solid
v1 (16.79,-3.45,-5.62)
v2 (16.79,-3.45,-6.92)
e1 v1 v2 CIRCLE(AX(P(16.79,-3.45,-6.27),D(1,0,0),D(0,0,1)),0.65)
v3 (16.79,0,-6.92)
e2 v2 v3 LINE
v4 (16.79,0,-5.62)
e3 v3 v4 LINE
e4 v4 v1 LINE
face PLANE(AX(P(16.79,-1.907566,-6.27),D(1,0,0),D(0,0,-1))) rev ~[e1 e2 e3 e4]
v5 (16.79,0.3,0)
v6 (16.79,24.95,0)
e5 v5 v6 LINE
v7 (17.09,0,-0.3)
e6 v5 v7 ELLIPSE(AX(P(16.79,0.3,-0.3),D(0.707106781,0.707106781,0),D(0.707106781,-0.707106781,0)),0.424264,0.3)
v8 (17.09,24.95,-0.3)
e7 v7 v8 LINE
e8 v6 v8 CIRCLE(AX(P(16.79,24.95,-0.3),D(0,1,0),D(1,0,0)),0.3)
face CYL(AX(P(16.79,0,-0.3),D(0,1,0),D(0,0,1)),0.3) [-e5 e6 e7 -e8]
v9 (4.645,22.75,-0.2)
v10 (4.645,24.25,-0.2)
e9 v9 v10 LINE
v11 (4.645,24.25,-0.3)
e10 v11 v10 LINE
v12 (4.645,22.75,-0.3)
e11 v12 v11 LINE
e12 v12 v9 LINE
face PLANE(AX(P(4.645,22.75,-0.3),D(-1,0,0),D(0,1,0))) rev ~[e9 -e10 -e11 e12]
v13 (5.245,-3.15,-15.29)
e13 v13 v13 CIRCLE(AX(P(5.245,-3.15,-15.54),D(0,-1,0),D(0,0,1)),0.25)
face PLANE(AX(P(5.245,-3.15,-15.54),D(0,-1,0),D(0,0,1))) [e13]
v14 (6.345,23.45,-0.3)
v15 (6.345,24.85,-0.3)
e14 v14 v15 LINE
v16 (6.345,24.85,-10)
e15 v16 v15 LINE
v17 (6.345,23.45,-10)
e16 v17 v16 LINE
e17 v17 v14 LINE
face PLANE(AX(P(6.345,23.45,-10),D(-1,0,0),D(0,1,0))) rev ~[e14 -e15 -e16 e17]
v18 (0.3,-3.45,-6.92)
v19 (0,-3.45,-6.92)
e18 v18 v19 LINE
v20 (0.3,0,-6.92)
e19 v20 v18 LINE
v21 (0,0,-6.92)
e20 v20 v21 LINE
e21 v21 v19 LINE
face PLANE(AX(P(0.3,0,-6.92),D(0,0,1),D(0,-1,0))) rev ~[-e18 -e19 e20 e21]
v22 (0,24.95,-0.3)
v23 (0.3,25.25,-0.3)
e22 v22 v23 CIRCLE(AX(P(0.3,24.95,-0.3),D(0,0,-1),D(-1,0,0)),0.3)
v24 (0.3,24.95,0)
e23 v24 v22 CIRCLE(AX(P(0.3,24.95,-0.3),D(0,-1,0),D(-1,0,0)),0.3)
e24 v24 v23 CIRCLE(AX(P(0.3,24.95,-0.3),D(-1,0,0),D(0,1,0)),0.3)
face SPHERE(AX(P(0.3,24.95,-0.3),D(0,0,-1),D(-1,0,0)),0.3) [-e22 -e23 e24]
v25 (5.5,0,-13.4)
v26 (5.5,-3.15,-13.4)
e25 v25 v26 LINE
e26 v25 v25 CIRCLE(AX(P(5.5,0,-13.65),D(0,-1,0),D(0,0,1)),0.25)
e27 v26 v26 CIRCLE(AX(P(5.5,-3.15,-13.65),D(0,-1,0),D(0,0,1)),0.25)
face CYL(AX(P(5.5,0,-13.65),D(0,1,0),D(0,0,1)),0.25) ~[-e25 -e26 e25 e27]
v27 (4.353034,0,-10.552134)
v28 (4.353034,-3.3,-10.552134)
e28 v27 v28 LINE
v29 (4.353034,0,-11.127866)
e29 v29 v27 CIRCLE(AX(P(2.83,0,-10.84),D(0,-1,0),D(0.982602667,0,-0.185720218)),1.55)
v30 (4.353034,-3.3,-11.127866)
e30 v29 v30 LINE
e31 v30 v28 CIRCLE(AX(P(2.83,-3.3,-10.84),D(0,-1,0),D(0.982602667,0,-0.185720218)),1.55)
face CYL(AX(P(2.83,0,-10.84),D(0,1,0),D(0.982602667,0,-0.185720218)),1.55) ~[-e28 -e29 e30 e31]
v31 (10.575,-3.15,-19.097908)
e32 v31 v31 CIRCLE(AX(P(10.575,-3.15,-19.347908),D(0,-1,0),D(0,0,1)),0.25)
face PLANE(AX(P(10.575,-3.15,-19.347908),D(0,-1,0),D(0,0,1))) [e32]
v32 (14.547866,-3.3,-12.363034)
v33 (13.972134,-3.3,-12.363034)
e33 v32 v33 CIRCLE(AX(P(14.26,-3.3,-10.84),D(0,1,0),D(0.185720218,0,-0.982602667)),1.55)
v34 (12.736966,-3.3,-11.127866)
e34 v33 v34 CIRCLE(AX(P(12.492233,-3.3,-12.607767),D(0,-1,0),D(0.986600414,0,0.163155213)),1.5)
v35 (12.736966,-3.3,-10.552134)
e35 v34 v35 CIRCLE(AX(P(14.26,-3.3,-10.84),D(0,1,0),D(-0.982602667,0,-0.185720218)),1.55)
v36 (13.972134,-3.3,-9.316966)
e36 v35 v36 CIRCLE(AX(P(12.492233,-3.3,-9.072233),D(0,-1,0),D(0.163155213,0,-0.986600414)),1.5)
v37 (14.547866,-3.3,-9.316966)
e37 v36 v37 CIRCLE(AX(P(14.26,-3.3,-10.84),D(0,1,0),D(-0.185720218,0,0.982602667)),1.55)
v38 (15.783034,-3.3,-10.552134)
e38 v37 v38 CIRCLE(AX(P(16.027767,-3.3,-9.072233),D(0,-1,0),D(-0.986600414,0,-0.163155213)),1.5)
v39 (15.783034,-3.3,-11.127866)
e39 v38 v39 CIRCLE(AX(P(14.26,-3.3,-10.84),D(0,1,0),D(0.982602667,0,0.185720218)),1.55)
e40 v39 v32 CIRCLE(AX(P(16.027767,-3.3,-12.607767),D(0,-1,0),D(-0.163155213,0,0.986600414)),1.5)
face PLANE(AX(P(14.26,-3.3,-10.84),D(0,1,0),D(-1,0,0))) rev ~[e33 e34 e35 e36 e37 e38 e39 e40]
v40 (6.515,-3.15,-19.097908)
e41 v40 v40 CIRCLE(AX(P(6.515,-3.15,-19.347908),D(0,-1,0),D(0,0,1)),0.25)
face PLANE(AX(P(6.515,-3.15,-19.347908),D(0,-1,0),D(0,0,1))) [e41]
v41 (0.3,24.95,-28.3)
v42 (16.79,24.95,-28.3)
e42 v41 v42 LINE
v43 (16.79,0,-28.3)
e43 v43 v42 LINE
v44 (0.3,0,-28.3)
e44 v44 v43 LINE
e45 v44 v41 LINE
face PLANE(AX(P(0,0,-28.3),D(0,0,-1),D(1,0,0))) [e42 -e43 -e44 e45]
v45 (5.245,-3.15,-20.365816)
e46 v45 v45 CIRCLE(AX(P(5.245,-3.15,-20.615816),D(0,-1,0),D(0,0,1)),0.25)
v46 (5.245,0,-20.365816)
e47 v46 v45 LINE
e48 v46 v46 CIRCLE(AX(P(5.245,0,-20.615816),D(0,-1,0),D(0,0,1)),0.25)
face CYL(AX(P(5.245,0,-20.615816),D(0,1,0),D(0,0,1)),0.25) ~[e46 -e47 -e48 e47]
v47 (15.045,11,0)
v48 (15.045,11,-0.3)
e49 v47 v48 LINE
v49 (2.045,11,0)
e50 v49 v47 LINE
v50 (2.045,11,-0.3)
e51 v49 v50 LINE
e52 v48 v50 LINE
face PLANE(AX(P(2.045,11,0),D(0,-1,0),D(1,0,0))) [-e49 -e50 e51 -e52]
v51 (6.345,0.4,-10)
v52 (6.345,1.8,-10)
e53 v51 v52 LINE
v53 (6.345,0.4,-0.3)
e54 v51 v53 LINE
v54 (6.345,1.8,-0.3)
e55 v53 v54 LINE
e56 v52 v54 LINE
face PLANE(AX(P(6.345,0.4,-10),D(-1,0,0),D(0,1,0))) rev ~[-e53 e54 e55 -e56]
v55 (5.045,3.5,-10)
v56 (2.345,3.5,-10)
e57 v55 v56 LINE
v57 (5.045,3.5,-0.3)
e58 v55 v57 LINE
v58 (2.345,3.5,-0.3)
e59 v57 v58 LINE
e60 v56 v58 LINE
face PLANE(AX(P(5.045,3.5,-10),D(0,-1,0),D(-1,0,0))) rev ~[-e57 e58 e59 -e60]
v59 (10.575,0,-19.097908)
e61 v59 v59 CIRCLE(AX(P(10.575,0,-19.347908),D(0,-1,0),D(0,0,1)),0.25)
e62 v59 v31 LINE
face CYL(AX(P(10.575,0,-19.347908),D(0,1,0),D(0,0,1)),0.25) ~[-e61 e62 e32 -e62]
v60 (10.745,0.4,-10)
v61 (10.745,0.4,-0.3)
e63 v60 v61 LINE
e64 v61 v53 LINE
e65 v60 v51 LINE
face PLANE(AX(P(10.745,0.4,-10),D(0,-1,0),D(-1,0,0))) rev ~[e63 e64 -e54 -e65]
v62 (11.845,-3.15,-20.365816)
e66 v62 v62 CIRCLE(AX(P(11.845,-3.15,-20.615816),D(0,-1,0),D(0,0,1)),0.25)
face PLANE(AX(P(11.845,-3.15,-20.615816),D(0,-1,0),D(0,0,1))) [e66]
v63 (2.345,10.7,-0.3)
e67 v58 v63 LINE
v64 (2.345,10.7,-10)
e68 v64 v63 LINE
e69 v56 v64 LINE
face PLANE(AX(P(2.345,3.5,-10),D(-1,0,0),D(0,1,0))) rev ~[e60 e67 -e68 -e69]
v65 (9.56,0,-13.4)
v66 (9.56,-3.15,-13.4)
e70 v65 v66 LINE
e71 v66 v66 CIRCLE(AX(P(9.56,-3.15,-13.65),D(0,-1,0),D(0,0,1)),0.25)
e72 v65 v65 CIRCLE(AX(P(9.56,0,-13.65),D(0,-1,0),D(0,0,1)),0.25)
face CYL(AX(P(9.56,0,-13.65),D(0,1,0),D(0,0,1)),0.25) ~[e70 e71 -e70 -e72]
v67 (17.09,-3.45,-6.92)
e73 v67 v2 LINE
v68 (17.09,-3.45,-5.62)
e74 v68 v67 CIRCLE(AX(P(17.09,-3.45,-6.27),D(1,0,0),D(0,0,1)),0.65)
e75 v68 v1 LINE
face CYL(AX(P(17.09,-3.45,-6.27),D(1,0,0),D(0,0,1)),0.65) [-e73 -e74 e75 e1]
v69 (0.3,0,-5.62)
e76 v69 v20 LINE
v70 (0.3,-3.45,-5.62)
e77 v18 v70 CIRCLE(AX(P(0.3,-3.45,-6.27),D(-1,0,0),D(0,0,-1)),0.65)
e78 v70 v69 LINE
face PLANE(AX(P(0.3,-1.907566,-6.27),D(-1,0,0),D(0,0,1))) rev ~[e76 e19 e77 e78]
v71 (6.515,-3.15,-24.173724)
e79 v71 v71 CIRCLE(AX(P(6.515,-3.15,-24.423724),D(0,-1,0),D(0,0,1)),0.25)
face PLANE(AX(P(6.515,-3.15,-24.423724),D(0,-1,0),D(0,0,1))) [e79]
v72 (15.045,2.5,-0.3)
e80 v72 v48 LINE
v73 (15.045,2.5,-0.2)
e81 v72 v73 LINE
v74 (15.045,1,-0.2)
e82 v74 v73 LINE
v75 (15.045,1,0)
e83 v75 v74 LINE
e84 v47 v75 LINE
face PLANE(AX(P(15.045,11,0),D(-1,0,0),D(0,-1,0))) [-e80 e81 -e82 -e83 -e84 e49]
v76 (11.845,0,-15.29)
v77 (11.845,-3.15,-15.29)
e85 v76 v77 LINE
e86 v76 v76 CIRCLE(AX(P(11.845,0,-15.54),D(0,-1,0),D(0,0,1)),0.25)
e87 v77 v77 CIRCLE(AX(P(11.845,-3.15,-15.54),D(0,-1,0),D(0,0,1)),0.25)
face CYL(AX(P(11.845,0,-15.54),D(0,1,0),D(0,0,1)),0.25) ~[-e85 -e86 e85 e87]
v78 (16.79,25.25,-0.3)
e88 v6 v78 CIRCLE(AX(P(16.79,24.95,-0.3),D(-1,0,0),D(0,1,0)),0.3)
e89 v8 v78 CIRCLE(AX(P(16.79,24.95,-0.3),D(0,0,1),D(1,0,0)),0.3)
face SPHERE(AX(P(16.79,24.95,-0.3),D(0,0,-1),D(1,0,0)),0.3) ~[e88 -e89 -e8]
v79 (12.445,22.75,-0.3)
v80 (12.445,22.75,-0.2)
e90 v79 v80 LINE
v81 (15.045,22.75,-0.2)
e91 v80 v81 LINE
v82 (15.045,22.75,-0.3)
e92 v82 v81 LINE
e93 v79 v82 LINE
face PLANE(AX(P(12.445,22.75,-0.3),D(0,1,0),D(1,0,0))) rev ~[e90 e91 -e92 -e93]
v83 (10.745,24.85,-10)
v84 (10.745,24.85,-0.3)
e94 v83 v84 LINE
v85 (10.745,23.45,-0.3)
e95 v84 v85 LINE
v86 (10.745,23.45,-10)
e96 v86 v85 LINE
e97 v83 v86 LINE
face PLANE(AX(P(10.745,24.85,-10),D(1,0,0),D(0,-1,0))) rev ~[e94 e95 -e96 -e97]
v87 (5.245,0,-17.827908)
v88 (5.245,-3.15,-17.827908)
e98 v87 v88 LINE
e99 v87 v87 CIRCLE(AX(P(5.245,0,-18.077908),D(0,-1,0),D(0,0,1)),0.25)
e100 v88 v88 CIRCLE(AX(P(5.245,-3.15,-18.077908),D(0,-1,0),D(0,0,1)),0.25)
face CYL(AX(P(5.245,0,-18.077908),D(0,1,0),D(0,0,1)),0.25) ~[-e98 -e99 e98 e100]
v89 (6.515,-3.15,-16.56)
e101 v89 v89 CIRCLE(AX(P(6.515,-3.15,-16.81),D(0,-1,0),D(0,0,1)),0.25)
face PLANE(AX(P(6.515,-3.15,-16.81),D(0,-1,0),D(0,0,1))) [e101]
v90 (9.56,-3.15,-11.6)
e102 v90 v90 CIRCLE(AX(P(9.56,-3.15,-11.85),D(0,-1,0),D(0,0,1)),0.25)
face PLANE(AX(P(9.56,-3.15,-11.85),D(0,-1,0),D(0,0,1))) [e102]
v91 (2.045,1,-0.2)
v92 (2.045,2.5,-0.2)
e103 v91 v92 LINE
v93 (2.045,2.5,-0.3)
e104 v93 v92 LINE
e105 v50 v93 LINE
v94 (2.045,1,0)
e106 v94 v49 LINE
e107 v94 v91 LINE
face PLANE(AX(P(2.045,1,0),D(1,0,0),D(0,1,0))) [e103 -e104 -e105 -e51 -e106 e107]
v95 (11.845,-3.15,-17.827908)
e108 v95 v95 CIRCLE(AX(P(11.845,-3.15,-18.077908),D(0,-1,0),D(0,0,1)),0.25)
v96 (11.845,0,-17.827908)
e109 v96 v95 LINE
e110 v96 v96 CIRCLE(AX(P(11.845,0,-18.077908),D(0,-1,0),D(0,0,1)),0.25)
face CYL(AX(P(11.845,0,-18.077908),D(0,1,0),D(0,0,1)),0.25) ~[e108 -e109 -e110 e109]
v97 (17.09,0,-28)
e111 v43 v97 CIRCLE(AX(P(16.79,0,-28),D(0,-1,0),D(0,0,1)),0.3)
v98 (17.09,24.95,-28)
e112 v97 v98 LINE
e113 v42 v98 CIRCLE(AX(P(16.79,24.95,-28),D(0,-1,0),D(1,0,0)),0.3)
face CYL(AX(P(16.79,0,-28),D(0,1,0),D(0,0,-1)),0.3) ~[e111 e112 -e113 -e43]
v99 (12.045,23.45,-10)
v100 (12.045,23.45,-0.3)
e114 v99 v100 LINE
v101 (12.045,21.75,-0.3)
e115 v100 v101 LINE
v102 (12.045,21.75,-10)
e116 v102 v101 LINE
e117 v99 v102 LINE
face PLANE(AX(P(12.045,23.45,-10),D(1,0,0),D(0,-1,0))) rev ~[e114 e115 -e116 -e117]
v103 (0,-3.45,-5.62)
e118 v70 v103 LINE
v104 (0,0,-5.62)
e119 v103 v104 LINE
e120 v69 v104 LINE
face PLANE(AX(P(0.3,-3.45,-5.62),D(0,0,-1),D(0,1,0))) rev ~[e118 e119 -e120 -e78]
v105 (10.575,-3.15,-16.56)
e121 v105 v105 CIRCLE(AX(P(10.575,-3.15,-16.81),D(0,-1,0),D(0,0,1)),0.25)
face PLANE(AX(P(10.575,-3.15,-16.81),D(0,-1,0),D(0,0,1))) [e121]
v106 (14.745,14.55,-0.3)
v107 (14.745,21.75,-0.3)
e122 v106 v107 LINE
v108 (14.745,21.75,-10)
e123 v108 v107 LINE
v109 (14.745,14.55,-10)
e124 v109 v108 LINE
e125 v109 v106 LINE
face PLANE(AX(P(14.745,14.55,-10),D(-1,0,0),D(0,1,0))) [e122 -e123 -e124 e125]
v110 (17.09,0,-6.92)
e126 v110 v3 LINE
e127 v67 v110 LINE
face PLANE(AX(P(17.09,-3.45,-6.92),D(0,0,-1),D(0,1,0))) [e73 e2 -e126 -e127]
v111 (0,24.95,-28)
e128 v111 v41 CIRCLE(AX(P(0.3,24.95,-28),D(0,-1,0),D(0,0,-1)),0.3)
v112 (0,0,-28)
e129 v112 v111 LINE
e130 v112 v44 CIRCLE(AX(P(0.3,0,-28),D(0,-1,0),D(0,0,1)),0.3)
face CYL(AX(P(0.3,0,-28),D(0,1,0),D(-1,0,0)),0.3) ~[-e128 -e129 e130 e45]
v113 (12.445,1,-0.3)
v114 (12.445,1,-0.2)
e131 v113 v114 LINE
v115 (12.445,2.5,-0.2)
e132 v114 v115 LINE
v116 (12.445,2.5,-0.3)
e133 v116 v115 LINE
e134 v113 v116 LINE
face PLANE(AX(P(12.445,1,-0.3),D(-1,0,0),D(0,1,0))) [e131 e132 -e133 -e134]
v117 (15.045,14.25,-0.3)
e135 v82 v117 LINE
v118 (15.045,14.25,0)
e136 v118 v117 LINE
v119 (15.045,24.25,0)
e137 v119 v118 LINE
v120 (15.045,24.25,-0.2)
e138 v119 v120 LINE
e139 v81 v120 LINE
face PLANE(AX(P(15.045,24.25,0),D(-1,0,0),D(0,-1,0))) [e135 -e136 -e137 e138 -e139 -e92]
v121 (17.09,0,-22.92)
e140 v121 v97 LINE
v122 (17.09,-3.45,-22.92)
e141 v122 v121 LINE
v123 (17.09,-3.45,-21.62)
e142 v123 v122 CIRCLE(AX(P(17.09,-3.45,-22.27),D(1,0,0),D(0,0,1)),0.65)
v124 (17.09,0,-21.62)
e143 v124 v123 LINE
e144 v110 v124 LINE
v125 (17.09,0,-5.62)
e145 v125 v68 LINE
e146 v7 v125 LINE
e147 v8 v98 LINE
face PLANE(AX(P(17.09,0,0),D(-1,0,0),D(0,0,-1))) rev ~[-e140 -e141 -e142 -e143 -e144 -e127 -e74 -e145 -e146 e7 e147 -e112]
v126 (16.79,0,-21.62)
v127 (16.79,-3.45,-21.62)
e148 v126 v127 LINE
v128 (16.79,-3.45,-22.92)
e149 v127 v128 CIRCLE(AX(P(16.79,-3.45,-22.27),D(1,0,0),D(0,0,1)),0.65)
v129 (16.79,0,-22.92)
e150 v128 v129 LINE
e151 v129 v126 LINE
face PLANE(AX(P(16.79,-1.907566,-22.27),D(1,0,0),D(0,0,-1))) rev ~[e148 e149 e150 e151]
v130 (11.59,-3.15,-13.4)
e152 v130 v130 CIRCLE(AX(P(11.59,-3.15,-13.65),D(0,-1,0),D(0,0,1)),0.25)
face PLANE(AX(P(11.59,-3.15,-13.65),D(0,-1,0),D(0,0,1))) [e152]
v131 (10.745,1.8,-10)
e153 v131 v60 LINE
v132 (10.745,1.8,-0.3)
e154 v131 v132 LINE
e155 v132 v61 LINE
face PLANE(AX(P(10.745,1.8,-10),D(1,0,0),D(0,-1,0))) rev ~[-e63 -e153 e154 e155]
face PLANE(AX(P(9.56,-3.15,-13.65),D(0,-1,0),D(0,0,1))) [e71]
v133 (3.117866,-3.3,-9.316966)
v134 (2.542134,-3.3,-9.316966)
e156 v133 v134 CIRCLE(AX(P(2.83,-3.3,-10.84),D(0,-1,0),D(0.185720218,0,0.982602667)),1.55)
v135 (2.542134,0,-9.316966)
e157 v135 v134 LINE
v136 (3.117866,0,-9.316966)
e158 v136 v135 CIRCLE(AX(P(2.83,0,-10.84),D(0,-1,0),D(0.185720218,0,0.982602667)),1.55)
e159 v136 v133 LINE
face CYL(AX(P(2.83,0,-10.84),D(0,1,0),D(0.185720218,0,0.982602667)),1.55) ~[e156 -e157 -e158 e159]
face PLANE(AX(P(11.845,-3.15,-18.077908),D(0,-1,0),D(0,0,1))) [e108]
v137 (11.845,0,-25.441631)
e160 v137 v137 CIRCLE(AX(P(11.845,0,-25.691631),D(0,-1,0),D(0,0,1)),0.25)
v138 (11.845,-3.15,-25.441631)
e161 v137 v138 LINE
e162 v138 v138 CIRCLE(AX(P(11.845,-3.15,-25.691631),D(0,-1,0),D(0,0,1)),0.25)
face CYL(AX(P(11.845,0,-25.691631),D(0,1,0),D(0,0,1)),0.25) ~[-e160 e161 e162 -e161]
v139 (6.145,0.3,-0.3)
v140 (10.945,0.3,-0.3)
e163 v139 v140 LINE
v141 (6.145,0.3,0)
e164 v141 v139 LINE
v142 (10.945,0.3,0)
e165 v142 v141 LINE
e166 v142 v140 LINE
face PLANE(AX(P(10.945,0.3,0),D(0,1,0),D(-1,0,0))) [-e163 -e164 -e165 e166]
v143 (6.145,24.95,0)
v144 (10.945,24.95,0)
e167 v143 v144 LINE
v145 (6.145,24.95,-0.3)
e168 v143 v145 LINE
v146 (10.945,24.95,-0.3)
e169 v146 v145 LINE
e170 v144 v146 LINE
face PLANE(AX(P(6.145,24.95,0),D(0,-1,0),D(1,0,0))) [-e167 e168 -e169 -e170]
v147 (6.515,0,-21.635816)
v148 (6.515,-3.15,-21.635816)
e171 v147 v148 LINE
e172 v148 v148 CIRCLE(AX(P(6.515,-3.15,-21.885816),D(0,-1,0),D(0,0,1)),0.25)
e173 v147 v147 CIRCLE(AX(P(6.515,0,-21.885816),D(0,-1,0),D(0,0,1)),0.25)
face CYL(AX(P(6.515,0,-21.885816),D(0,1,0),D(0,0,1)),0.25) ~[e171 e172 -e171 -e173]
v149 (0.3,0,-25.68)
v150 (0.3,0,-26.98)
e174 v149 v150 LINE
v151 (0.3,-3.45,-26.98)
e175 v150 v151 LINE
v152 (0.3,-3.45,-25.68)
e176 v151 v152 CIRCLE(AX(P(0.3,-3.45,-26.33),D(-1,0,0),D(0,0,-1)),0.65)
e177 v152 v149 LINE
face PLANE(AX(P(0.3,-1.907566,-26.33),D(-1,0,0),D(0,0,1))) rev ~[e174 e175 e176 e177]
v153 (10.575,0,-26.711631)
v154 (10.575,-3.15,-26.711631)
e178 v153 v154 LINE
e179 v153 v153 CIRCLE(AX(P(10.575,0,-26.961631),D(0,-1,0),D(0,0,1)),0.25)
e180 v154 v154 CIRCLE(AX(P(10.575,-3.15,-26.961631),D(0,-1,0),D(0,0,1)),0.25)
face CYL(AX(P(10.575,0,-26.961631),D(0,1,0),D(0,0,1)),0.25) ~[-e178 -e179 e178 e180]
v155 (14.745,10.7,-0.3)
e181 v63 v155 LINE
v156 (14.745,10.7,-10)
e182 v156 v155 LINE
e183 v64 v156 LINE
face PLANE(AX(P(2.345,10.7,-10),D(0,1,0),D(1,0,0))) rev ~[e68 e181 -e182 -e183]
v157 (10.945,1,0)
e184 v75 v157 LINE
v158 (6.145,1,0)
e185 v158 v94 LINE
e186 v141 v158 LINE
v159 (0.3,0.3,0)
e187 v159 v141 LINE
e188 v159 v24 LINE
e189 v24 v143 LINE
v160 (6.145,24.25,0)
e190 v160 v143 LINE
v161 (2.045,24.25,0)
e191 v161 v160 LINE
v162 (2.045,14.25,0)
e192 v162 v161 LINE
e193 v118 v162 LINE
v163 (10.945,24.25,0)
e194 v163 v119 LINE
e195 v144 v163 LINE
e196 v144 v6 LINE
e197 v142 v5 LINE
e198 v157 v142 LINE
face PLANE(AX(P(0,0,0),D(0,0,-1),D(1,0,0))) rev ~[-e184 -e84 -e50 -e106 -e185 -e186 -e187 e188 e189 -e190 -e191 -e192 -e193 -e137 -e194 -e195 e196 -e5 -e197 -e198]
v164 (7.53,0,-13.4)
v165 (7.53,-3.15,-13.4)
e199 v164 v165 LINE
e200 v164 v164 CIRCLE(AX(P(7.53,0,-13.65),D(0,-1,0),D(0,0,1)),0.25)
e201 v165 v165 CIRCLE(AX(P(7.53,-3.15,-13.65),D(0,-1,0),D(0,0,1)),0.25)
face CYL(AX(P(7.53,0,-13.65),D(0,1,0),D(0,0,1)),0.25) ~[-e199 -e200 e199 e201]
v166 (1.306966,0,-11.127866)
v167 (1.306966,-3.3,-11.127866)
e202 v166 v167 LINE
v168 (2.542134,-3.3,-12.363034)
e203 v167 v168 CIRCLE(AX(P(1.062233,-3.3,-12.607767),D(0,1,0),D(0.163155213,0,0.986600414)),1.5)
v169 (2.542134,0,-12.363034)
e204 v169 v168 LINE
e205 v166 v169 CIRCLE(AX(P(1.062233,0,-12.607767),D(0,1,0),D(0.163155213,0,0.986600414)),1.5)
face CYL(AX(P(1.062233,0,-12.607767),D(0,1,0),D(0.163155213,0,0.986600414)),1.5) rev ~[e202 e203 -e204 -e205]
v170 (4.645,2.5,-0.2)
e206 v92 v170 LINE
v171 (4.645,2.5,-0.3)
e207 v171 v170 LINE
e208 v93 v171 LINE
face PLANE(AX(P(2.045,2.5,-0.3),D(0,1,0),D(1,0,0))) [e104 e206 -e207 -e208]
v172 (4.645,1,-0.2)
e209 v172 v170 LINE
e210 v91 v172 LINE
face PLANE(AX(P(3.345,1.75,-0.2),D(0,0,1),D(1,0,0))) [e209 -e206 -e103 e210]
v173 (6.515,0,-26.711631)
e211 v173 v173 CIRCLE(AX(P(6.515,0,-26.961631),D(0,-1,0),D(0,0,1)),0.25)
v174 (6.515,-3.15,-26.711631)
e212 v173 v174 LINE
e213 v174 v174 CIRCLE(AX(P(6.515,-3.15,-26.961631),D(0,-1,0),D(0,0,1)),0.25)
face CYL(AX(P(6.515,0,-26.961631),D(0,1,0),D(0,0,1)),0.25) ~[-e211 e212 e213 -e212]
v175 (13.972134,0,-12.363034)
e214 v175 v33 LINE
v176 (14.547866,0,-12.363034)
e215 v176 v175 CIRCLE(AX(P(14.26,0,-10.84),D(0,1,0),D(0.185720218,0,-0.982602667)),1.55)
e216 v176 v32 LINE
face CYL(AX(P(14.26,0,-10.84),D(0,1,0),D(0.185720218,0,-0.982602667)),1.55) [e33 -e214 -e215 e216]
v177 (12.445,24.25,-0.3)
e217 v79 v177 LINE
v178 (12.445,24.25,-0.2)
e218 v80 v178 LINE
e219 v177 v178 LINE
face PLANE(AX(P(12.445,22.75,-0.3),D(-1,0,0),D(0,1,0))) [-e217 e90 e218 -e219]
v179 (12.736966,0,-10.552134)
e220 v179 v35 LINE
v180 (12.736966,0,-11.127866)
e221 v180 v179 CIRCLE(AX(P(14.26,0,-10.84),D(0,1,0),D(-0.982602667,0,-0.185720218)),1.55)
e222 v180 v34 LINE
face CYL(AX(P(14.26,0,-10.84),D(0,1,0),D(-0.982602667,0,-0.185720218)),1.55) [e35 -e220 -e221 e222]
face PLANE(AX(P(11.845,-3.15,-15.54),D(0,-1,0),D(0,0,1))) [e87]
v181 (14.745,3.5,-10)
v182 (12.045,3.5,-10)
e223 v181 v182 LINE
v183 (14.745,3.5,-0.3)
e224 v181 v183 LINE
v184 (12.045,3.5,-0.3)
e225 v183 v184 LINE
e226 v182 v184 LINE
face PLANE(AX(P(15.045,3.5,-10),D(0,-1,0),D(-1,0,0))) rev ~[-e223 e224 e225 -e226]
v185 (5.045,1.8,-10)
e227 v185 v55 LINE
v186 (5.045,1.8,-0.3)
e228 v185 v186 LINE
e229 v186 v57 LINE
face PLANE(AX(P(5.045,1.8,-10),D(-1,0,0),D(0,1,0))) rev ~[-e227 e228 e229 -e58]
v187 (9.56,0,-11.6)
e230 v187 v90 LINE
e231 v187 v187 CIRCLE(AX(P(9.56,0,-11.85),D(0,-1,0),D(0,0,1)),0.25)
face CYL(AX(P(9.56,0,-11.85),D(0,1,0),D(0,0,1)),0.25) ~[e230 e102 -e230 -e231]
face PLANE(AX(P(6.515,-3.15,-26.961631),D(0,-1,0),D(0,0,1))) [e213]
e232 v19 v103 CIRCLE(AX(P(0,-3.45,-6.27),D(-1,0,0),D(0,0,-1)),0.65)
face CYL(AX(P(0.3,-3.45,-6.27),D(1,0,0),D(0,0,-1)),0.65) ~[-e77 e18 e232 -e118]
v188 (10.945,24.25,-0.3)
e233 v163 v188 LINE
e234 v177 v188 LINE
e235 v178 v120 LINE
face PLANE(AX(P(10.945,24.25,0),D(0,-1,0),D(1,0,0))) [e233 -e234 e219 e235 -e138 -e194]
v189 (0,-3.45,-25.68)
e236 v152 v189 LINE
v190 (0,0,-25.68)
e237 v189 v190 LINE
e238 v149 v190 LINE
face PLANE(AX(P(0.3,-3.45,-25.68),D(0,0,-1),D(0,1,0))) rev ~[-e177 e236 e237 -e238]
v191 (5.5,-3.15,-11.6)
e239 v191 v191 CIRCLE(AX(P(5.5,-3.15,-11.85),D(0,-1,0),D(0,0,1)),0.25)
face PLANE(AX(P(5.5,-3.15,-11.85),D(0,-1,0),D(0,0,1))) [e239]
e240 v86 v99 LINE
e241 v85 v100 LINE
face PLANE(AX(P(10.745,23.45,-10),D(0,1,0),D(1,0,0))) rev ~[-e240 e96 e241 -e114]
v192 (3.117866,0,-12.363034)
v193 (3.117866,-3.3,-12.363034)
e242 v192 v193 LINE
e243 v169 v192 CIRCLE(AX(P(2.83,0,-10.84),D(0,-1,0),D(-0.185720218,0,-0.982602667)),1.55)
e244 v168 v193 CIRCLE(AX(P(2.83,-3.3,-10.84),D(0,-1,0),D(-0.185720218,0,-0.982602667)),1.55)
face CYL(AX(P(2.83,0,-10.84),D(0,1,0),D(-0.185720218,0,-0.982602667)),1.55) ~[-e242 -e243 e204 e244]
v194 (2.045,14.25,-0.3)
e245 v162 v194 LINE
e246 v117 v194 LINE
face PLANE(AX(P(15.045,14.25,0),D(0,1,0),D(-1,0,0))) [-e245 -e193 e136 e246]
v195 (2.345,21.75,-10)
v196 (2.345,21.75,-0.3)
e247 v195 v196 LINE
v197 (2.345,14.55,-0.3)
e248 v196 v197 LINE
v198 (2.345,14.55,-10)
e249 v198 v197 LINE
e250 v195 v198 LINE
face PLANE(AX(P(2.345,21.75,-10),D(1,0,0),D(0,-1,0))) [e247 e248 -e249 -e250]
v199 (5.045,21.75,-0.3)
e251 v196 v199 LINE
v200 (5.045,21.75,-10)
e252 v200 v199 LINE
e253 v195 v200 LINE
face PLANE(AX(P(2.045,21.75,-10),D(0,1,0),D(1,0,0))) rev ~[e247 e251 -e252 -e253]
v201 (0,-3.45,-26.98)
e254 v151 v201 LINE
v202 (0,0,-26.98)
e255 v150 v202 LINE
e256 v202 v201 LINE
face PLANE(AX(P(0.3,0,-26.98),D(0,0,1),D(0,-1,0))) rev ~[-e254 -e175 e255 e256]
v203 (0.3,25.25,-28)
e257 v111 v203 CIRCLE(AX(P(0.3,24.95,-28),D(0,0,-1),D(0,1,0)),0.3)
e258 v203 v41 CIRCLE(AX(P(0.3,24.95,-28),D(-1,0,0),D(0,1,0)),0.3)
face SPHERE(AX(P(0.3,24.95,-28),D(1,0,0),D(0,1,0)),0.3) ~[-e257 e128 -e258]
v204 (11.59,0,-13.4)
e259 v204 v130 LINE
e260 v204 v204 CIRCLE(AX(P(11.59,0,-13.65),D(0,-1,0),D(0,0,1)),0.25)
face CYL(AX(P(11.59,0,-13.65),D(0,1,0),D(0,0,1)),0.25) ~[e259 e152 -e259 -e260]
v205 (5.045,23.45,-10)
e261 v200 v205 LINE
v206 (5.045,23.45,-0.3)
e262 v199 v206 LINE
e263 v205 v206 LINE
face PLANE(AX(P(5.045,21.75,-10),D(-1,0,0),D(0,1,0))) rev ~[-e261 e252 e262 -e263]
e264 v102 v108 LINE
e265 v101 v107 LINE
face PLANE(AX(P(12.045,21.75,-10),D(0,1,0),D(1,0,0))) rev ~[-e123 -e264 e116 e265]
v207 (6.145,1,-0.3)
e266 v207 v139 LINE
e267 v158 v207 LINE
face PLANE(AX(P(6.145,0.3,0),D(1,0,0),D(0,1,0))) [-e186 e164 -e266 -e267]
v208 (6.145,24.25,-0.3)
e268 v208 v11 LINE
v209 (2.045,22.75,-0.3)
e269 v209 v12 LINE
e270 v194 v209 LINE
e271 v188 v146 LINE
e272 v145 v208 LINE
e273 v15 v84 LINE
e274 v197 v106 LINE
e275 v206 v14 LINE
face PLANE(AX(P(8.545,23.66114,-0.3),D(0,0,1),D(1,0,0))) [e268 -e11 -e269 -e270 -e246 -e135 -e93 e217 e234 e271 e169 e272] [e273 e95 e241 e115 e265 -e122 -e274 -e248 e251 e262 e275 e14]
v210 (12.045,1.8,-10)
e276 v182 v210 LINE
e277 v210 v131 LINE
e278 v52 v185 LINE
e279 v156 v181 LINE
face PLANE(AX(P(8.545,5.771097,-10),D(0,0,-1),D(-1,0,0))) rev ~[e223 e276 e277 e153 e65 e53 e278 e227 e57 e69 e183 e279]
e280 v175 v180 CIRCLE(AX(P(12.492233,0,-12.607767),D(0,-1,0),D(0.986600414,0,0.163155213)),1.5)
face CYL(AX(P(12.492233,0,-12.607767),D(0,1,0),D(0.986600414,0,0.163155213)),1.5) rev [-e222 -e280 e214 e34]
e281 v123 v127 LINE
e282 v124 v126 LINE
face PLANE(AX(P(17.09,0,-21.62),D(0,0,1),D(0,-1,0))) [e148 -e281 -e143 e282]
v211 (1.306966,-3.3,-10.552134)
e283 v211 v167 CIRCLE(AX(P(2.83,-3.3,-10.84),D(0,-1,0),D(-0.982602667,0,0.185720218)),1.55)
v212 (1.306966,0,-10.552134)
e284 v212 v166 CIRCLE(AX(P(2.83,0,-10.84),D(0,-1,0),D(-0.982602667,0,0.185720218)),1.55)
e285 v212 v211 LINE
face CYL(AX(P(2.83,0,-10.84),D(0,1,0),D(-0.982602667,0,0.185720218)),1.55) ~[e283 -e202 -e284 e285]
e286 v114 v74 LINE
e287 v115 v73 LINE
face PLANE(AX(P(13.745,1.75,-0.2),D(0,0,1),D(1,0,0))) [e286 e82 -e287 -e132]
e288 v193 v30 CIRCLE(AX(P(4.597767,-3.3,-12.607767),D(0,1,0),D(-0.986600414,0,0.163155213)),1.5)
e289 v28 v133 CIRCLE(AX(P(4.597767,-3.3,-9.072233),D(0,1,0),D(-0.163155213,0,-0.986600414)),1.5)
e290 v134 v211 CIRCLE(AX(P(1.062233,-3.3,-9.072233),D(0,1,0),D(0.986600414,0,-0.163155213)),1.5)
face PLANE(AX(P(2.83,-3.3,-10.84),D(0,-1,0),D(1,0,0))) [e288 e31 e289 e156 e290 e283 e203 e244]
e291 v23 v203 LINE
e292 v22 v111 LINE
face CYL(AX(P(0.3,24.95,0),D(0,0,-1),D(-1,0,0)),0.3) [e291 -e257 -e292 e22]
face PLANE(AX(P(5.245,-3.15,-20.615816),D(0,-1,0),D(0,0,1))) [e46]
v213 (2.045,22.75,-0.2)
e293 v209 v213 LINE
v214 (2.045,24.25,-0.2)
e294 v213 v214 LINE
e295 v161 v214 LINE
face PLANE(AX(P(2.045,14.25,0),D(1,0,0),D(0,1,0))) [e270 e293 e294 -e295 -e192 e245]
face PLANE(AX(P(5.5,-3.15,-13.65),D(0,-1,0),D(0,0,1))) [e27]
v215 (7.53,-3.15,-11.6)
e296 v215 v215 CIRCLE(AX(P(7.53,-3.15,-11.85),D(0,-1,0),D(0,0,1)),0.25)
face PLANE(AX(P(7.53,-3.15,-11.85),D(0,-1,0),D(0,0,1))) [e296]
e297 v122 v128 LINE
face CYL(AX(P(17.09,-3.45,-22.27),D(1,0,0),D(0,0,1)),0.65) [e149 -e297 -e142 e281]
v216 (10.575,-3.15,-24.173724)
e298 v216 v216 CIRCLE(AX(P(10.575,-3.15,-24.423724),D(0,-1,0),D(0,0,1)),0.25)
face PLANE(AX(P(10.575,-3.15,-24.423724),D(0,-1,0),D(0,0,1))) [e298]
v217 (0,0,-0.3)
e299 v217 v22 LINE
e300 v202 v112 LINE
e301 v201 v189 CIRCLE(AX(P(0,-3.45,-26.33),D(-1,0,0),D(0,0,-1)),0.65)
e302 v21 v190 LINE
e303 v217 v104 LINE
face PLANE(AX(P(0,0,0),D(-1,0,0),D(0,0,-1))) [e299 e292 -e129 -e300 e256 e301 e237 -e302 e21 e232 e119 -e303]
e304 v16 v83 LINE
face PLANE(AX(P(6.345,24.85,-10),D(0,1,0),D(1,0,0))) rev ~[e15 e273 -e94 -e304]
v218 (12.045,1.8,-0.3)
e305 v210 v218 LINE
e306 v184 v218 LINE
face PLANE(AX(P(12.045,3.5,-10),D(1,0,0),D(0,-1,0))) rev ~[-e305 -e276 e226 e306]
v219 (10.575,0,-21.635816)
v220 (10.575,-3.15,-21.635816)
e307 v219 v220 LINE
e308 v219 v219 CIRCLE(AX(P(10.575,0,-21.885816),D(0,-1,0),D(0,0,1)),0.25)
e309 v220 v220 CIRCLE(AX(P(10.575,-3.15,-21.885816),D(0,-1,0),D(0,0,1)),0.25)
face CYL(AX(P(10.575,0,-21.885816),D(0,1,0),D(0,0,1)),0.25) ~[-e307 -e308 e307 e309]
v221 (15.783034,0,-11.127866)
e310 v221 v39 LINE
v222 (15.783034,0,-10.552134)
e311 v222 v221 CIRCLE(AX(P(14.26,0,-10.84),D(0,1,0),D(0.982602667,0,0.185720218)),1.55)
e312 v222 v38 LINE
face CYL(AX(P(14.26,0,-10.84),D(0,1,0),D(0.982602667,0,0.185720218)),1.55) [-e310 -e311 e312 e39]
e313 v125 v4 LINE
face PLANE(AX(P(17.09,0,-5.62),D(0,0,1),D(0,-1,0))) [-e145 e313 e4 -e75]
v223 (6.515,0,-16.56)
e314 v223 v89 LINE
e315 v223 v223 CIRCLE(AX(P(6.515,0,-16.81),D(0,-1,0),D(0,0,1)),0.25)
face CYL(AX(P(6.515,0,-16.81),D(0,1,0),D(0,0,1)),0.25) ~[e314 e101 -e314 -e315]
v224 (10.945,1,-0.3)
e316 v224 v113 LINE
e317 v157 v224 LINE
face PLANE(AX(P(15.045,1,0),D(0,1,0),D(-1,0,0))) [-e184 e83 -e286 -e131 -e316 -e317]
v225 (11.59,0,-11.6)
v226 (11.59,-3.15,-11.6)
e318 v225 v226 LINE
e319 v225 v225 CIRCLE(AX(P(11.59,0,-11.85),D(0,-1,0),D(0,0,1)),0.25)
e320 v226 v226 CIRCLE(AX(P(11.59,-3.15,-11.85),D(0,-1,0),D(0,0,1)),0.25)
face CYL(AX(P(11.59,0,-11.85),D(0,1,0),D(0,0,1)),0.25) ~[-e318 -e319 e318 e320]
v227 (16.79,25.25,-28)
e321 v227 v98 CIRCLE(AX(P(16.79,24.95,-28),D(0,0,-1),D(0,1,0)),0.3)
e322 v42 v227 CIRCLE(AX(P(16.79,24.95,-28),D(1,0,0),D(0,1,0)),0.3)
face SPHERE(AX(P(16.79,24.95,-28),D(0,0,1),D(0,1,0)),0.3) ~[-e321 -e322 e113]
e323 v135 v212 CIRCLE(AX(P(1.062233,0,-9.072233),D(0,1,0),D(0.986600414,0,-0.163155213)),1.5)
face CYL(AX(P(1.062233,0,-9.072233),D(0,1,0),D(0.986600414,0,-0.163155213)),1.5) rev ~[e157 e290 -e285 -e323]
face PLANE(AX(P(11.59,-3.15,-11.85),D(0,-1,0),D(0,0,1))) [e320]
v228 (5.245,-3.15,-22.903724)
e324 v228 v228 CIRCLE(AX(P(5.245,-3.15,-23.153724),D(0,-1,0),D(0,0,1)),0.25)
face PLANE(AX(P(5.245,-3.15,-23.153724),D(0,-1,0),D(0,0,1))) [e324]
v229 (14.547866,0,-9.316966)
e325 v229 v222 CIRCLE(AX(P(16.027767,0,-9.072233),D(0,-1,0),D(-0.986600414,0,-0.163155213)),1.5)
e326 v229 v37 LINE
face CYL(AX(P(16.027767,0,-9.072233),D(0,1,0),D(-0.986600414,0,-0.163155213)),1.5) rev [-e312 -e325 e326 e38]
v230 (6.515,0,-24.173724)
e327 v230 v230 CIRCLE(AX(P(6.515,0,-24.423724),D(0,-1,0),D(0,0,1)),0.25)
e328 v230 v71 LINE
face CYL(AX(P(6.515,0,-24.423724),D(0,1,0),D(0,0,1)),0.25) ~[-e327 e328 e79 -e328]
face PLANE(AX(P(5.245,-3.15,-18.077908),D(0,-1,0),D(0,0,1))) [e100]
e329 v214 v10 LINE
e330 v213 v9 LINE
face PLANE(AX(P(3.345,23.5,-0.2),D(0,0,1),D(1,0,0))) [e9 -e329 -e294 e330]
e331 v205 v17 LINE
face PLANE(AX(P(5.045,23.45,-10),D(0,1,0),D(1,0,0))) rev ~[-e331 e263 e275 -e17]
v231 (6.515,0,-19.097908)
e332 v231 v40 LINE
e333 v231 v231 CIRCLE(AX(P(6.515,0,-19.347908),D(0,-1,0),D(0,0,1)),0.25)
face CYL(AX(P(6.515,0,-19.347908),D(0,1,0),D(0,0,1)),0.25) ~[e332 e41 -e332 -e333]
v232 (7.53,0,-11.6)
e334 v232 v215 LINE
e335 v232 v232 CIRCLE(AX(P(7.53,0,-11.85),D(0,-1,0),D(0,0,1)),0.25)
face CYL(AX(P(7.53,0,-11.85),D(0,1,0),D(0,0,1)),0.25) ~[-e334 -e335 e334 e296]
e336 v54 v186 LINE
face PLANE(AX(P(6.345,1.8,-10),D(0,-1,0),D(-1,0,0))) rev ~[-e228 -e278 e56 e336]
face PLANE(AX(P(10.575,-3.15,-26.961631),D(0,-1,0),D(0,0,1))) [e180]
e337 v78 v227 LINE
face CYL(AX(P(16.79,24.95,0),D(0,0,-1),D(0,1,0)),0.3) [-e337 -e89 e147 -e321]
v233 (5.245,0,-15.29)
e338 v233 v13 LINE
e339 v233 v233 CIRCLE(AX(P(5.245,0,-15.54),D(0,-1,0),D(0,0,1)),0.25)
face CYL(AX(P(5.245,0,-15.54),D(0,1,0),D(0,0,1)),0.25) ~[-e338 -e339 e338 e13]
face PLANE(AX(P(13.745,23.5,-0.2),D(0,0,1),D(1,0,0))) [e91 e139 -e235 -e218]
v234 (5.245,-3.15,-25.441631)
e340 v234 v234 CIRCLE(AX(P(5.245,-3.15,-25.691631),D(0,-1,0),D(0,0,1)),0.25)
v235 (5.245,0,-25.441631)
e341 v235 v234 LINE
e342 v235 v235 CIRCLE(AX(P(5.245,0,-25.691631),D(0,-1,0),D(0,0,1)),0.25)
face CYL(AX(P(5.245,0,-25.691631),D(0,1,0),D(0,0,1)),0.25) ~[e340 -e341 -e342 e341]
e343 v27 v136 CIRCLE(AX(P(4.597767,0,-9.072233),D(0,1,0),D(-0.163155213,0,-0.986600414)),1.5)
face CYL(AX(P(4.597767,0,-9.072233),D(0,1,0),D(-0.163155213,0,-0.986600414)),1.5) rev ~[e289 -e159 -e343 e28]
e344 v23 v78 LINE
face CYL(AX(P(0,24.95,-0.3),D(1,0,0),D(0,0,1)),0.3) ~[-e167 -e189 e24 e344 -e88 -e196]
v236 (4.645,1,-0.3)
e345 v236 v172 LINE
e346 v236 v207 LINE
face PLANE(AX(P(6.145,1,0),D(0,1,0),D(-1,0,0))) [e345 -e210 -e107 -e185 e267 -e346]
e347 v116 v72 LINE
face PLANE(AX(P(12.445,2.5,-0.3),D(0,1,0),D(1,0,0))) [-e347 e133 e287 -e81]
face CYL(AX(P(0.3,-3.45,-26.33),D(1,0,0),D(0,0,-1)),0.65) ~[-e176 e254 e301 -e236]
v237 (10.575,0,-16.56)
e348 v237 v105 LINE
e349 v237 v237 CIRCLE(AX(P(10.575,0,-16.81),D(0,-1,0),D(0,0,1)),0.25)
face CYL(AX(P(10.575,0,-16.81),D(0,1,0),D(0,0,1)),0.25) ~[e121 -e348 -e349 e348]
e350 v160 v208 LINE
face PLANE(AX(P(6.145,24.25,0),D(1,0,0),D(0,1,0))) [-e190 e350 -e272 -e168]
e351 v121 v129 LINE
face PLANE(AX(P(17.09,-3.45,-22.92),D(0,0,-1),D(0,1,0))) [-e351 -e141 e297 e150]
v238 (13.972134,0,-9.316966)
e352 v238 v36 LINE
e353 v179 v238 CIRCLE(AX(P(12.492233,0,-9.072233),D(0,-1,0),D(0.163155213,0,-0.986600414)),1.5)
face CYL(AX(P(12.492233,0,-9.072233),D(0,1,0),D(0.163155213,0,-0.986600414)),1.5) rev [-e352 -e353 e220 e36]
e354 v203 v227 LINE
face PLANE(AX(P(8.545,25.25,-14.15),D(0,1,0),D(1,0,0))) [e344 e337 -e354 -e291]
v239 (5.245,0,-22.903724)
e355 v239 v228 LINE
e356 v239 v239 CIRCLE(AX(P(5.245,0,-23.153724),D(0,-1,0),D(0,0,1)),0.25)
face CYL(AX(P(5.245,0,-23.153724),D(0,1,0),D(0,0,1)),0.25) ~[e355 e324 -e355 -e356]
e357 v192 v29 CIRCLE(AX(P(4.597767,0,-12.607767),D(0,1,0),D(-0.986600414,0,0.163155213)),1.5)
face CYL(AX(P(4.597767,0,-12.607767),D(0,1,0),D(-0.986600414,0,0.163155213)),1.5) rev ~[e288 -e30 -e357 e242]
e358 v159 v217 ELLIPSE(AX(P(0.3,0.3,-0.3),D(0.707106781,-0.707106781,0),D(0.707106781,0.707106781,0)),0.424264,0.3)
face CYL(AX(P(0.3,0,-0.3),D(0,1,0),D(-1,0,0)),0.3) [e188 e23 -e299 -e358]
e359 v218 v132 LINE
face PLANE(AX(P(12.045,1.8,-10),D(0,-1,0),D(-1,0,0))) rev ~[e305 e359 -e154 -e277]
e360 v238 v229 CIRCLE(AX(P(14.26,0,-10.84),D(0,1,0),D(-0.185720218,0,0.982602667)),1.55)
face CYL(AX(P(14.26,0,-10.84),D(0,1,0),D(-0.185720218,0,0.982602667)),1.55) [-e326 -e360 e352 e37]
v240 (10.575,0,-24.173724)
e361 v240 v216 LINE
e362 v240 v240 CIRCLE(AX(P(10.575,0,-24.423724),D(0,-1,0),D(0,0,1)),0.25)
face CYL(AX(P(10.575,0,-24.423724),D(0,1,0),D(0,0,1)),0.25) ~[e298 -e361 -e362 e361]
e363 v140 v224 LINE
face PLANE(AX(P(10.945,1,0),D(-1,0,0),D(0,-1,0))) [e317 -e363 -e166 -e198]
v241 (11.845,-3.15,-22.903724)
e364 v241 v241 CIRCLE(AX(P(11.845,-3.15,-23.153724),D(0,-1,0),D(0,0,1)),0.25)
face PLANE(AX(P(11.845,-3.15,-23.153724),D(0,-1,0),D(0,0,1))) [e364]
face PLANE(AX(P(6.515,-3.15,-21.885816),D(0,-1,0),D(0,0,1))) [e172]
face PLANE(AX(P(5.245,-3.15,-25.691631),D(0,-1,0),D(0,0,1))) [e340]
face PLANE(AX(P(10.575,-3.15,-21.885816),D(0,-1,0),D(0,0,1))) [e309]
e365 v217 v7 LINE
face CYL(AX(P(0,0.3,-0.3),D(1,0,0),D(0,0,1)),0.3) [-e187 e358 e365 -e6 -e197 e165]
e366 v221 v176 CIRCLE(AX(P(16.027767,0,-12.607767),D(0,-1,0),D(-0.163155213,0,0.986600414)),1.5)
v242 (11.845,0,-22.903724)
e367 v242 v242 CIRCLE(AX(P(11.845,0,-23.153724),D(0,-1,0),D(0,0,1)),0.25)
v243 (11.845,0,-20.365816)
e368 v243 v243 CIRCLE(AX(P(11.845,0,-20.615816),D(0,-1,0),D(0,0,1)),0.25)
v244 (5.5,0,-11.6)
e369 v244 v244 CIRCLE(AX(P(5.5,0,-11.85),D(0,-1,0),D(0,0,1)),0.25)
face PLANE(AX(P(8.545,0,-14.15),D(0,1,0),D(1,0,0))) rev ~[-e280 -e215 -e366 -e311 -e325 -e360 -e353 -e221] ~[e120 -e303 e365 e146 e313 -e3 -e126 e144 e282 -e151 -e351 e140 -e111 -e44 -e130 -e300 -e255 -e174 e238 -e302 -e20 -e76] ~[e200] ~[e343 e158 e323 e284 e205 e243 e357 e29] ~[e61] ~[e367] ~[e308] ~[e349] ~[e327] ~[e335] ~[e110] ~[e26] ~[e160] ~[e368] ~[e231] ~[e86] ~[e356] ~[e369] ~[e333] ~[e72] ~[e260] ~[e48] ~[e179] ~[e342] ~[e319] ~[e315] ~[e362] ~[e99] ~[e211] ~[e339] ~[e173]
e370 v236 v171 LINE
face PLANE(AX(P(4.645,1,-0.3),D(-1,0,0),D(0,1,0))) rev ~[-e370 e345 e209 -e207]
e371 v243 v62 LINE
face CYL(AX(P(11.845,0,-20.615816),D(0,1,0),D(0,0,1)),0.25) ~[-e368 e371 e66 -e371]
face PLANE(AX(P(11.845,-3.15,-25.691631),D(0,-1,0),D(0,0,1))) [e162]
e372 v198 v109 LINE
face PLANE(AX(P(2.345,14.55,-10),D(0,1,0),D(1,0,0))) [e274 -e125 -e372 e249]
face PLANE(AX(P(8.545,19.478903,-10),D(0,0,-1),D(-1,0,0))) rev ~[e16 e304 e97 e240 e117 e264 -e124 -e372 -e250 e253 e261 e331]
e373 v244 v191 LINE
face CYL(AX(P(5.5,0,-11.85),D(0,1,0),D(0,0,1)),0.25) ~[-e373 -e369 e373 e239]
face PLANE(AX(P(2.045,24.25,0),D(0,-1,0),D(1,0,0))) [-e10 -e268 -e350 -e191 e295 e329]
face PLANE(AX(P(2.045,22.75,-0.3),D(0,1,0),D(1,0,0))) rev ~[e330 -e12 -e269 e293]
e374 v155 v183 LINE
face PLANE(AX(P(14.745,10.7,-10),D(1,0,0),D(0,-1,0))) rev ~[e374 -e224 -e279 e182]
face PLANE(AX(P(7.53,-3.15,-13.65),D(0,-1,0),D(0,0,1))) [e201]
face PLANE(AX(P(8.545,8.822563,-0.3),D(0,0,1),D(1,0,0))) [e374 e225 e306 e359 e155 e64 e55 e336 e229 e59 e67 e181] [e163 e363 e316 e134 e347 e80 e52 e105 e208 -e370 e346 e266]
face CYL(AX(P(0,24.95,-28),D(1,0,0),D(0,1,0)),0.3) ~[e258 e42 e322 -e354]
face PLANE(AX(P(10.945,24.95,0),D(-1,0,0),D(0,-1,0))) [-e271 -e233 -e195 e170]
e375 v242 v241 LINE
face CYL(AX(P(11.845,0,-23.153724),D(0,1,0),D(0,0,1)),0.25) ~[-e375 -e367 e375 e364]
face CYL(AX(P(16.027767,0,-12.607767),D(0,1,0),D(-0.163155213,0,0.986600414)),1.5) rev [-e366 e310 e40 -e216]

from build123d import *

# Parameters (mm, degrees)
SKETCH_1_W          = 17.09
SKETCH_1_H          = 28.3
EXTRUDE_1_DEPTH     = 25.25
EXTRUDE_2_DEPTH     = 0.3
EXTRUDE_START       = -0.3
EXTRUDE_3_DEPTH     = 0.3
EXTRUDE_4_DEPTH     = 3.3
SKETCH_7_R          = 0.25
EXTRUDE_5_DEPTH     = 3.15
FILLET_1_R          = 0.3
CUT_EXTRUDE_1_DEPTH = 10
EXTRUDE_6_DEPTH     = 9.7
SKETCH_10_W         = 2.6
SKETCH_10_H         = 1.5
EXTRUDE_7_DEPTH     = 0.1
EXTRUDE_8_DEPTH     = 9.7


with BuildPart() as part:
    # 草图1 → 凸台-拉伸1 (new body)
    with BuildSketch(Plane(origin=(0, 0, 0), x_dir=(1, 0, 0), z_dir=(0, 1, 0))):
        with Locations((8.545, 14.15)):
            Rectangle(SKETCH_1_W, SKETCH_1_H)
    extrude(amount=EXTRUDE_1_DEPTH)

    # 草图2 → 凸台-拉伸2 (add)
    with BuildSketch(Plane(origin=(17.09, 0, 0), x_dir=(0, 0, -1), z_dir=(1, 0, 0))):
        with BuildLine():
            Line((21.62, 0), (21.62, -3.45))
            ThreePointArc((21.62, -3.45), (22.27, -4.1), (22.92, -3.45))
            Line((22.92, -3.45), (22.92, 0))
            Line((22.92, 0), (21.62, 0))
        make_face()
        with BuildLine():
            Line((6.92, -3.45), (6.92, 0))
            Line((6.92, 0), (5.62, 0))
            Line((5.62, 0), (5.62, -3.45))
            ThreePointArc((5.62, -3.45), (6.27, -4.1), (6.92, -3.45))
        make_face()
    extrude(amount=-EXTRUDE_2_DEPTH)

    # 草图4 → 凸台-拉伸3 (add)
    with BuildSketch(Plane.ZY.offset(EXTRUDE_START)):
        with BuildLine():
            Line((-5.62, -3.45), (-5.62, 0))
            Line((-5.62, 0), (-6.92, 0))
            Line((-6.92, 0), (-6.92, -3.45))
            ThreePointArc((-6.92, -3.45), (-6.27, -4.1), (-5.62, -3.45))
        make_face()
        with BuildLine():
            Line((-25.68, -3.45), (-25.68, 0))
            Line((-25.68, 0), (-26.98, 0))
            Line((-26.98, 0), (-26.98, -3.45))
            ThreePointArc((-26.98, -3.45), (-26.33, -4.1), (-25.68, -3.45))
        make_face()
    extrude(amount=EXTRUDE_3_DEPTH)

    # 草图5 → 凸台-拉伸4 (add)
    with BuildSketch(Plane.XZ):
        with BuildLine():
            ThreePointArc((1.306965866, -10.552133668), (1.28, -10.84), (1.306965866, -11.127866332))
            ThreePointArc((1.306965866, -11.127866332), (2.122893219, -11.547106781), (2.542133668, -12.363034134))
            ThreePointArc((2.542133668, -12.363034134), (2.83, -12.39), (3.117866332, -12.363034134))
            ThreePointArc((3.117866332, -12.363034134), (3.537106781, -11.547106781), (4.353034134, -11.127866332))
            ThreePointArc((4.353034134, -11.127866332), (4.38, -10.84), (4.353034134, -10.552133668))
            ThreePointArc((4.353034134, -10.552133668), (3.537106781, -10.132893219), (3.117866332, -9.316965866))
            ThreePointArc((3.117866332, -9.316965866), (2.83, -9.29), (2.542133668, -9.316965866))
            ThreePointArc((2.542133668, -9.316965866), (2.122893219, -10.132893219), (1.306965866, -10.552133668))
        make_face()
        with BuildLine():
            ThreePointArc((14.547866332, -12.363034134), (14.26, -12.39), (13.972133668, -12.363034134))
            ThreePointArc((13.972133668, -12.363034134), (13.552893219, -11.547106781), (12.736965866, -11.127866332))
            ThreePointArc((12.736965866, -11.127866332), (12.71, -10.84), (12.736965866, -10.552133668))
            ThreePointArc((12.736965866, -10.552133668), (13.552893219, -10.132893219), (13.972133668, -9.316965866))
            ThreePointArc((13.972133668, -9.316965866), (14.26, -9.29), (14.547866332, -9.316965866))
            ThreePointArc((14.547866332, -9.316965866), (14.967106781, -10.132893219), (15.783034134, -10.552133668))
            ThreePointArc((15.783034134, -10.552133668), (15.81, -10.84), (15.783034134, -11.127866332))
            ThreePointArc((15.783034134, -11.127866332), (14.967106781, -11.547106781), (14.547866332, -12.363034134))
        make_face()
    extrude(amount=EXTRUDE_4_DEPTH)

    # 草图7 → 凸台-拉伸5 (add)
    with BuildSketch(Plane.XZ):
        with Locations(Location((5.5, -13.65, 0), (0, 0, 90))):
            Circle(SKETCH_7_R)
        with Locations(Location((7.53, -13.65, 0), (0, 0, 90))):
            Circle(SKETCH_7_R)
        with Locations(Location((5.5, -11.85, 0), (0, 0, 90))):
            Circle(SKETCH_7_R)
        with Locations(Location((7.53, -11.85, 0), (0, 0, 90))):
            Circle(SKETCH_7_R)
        with Locations(Location((9.56, -11.85, 0), (0, 0, 90))):
            Circle(SKETCH_7_R)
        with Locations(Location((11.59, -11.85, 0), (0, 0, 90))):
            Circle(SKETCH_7_R)
        with Locations(Location((9.56, -13.65, 0), (0, 0, 90))):
            Circle(SKETCH_7_R)
        with Locations(Location((11.59, -13.65, 0), (0, 0, 90))):
            Circle(SKETCH_7_R)
        with Locations(Location((5.245, -15.54, 0), (0, 0, 90))):
            Circle(SKETCH_7_R)
        with Locations(Location((6.515, -16.81, 0), (0, 0, 90))):
            Circle(SKETCH_7_R)
        with Locations(Location((5.245, -18.077907843, 0), (0, 0, 90))):
            Circle(SKETCH_7_R)
        with Locations(Location((6.515, -19.347907843, 0), (0, 0, 90))):
            Circle(SKETCH_7_R)
        with Locations(Location((5.245, -20.615815685, 0), (0, 0, 90))):
            Circle(SKETCH_7_R)
        with Locations(Location((6.515, -21.885815685, 0), (0, 0, 90))):
            Circle(SKETCH_7_R)
        with Locations(Location((6.515, -24.423723528, 0), (0, 0, 90))):
            Circle(SKETCH_7_R)
        with Locations(Location((5.245, -25.69163137, 0), (0, 0, 90))):
            Circle(SKETCH_7_R)
        with Locations(Location((5.245, -23.153723528, 0), (0, 0, 90))):
            Circle(SKETCH_7_R)
        with Locations(Location((6.515, -26.96163137, 0), (0, 0, 90))):
            Circle(SKETCH_7_R)
        with Locations(Location((10.575, -26.96163137, 0), (0, 0, 90))):
            Circle(SKETCH_7_R)
        with Locations(Location((11.845, -23.153723528, 0), (0, 0, 90))):
            Circle(SKETCH_7_R)
        with Locations(Location((11.845, -25.69163137, 0), (0, 0, 90))):
            Circle(SKETCH_7_R)
        with Locations(Location((10.575, -24.423723528, 0), (0, 0, 90))):
            Circle(SKETCH_7_R)
        with Locations(Location((10.575, -21.885815685, 0), (0, 0, 90))):
            Circle(SKETCH_7_R)
        with Locations(Location((11.845, -20.615815685, 0), (0, 0, 90))):
            Circle(SKETCH_7_R)
        with Locations(Location((10.575, -19.347907843, 0), (0, 0, 90))):
            Circle(SKETCH_7_R)
        with Locations(Location((11.845, -18.077907843, 0), (0, 0, 90))):
            Circle(SKETCH_7_R)
        with Locations(Location((10.575, -16.81, 0), (0, 0, 90))):
            Circle(SKETCH_7_R)
        with Locations(Location((11.845, -15.54, 0), (0, 0, 90))):
            Circle(SKETCH_7_R)
    extrude(amount=EXTRUDE_5_DEPTH)

    # 圆角1
    fillet_1_edges = [part.edges().sort_by_distance(p)[0] for p in [
        (17.09, 25.25, -14.15),
        (8.545, 25.25, -28.3),
        (0, 25.25, -14.15),
        (8.545, 0, 0),
        (0, 12.625, -28.3),
        (17.09, 12.625, -28.3),
        (17.09, 12.625, 0),
        (0, 12.625, 0),
        (8.545, 25.25, 0),
    ]]
    fillet(fillet_1_edges, radius=FILLET_1_R)

    # 草图8 → 切除-拉伸1 (cut)
    with BuildSketch(Plane.XY):
        Polygon((15.045, 14.25), (2.045, 14.25), (2.045, 24.25), (6.145, 24.25), (6.145, 24.95), (10.945, 24.95), (10.945, 24.25), (15.045, 24.25), align=None)
        Polygon((10.945, 0.3), (6.145, 0.3), (6.145, 1), (2.045, 1), (2.045, 11), (15.045, 11), (15.045, 1), (10.945, 1), align=None)
    extrude(amount=-CUT_EXTRUDE_1_DEPTH, mode=Mode.SUBTRACT)

    # 草图9 → 凸台-拉伸6 (add)
    with BuildSketch(Plane.XY.offset(-10)):
        Polygon((2.045, 24.25), (2.045, 21.75), (5.045, 21.75), (5.045, 23.45), (6.345, 23.45), (6.345, 24.85), (10.745, 24.85), (10.745, 23.45), (12.045, 23.45), (12.045, 21.75), (15.045, 21.75), (15.045, 24.25), (10.945, 24.25), (10.945, 24.95), (6.145, 24.95), (6.145, 24.25), align=None)
        Polygon((15.045, 1), (15.045, 3.5), (12.045, 3.5), (12.045, 1.8), (10.745, 1.8), (10.745, 0.4), (6.345, 0.4), (6.345, 1.8), (5.045, 1.8), (5.045, 3.5), (2.045, 3.5), (2.045, 1), (6.145, 1), (6.145, 0.3), (10.945, 0.3), (10.945, 1), align=None)
    extrude(amount=EXTRUDE_6_DEPTH)

    # 草图10 → 凸台-拉伸7 (add)
    with BuildSketch(Plane.XY.offset(-0.3)):
        with Locations((3.345, 23.5)):
            Rectangle(SKETCH_10_W, SKETCH_10_H)
        with Locations((13.745, 23.5)):
            Rectangle(SKETCH_10_W, SKETCH_10_H)
        with Locations((13.745, 1.75)):
            Rectangle(SKETCH_10_W, SKETCH_10_H)
        with Locations((3.345, 1.75)):
            Rectangle(SKETCH_10_W, SKETCH_10_H)
    extrude(amount=EXTRUDE_7_DEPTH)

    # 草图11 → 凸台-拉伸8 (add)
    with BuildSketch(Plane.XY.offset(-10)):
        Polygon((15.045, 3.5), (15.045, 11), (2.045, 11), (2.045, 3.5), (2.345, 3.5), (2.345, 10.7), (14.745, 10.7), (14.745, 3.5), align=None)
        Polygon((14.745, 21.75), (15.045, 21.75), (15.045, 14.25), (2.045, 14.25), (2.045, 21.75), (2.345, 21.75), (2.345, 14.55), (14.745, 14.55), align=None)
    extrude(amount=EXTRUDE_8_DEPTH)


solid = part.part
